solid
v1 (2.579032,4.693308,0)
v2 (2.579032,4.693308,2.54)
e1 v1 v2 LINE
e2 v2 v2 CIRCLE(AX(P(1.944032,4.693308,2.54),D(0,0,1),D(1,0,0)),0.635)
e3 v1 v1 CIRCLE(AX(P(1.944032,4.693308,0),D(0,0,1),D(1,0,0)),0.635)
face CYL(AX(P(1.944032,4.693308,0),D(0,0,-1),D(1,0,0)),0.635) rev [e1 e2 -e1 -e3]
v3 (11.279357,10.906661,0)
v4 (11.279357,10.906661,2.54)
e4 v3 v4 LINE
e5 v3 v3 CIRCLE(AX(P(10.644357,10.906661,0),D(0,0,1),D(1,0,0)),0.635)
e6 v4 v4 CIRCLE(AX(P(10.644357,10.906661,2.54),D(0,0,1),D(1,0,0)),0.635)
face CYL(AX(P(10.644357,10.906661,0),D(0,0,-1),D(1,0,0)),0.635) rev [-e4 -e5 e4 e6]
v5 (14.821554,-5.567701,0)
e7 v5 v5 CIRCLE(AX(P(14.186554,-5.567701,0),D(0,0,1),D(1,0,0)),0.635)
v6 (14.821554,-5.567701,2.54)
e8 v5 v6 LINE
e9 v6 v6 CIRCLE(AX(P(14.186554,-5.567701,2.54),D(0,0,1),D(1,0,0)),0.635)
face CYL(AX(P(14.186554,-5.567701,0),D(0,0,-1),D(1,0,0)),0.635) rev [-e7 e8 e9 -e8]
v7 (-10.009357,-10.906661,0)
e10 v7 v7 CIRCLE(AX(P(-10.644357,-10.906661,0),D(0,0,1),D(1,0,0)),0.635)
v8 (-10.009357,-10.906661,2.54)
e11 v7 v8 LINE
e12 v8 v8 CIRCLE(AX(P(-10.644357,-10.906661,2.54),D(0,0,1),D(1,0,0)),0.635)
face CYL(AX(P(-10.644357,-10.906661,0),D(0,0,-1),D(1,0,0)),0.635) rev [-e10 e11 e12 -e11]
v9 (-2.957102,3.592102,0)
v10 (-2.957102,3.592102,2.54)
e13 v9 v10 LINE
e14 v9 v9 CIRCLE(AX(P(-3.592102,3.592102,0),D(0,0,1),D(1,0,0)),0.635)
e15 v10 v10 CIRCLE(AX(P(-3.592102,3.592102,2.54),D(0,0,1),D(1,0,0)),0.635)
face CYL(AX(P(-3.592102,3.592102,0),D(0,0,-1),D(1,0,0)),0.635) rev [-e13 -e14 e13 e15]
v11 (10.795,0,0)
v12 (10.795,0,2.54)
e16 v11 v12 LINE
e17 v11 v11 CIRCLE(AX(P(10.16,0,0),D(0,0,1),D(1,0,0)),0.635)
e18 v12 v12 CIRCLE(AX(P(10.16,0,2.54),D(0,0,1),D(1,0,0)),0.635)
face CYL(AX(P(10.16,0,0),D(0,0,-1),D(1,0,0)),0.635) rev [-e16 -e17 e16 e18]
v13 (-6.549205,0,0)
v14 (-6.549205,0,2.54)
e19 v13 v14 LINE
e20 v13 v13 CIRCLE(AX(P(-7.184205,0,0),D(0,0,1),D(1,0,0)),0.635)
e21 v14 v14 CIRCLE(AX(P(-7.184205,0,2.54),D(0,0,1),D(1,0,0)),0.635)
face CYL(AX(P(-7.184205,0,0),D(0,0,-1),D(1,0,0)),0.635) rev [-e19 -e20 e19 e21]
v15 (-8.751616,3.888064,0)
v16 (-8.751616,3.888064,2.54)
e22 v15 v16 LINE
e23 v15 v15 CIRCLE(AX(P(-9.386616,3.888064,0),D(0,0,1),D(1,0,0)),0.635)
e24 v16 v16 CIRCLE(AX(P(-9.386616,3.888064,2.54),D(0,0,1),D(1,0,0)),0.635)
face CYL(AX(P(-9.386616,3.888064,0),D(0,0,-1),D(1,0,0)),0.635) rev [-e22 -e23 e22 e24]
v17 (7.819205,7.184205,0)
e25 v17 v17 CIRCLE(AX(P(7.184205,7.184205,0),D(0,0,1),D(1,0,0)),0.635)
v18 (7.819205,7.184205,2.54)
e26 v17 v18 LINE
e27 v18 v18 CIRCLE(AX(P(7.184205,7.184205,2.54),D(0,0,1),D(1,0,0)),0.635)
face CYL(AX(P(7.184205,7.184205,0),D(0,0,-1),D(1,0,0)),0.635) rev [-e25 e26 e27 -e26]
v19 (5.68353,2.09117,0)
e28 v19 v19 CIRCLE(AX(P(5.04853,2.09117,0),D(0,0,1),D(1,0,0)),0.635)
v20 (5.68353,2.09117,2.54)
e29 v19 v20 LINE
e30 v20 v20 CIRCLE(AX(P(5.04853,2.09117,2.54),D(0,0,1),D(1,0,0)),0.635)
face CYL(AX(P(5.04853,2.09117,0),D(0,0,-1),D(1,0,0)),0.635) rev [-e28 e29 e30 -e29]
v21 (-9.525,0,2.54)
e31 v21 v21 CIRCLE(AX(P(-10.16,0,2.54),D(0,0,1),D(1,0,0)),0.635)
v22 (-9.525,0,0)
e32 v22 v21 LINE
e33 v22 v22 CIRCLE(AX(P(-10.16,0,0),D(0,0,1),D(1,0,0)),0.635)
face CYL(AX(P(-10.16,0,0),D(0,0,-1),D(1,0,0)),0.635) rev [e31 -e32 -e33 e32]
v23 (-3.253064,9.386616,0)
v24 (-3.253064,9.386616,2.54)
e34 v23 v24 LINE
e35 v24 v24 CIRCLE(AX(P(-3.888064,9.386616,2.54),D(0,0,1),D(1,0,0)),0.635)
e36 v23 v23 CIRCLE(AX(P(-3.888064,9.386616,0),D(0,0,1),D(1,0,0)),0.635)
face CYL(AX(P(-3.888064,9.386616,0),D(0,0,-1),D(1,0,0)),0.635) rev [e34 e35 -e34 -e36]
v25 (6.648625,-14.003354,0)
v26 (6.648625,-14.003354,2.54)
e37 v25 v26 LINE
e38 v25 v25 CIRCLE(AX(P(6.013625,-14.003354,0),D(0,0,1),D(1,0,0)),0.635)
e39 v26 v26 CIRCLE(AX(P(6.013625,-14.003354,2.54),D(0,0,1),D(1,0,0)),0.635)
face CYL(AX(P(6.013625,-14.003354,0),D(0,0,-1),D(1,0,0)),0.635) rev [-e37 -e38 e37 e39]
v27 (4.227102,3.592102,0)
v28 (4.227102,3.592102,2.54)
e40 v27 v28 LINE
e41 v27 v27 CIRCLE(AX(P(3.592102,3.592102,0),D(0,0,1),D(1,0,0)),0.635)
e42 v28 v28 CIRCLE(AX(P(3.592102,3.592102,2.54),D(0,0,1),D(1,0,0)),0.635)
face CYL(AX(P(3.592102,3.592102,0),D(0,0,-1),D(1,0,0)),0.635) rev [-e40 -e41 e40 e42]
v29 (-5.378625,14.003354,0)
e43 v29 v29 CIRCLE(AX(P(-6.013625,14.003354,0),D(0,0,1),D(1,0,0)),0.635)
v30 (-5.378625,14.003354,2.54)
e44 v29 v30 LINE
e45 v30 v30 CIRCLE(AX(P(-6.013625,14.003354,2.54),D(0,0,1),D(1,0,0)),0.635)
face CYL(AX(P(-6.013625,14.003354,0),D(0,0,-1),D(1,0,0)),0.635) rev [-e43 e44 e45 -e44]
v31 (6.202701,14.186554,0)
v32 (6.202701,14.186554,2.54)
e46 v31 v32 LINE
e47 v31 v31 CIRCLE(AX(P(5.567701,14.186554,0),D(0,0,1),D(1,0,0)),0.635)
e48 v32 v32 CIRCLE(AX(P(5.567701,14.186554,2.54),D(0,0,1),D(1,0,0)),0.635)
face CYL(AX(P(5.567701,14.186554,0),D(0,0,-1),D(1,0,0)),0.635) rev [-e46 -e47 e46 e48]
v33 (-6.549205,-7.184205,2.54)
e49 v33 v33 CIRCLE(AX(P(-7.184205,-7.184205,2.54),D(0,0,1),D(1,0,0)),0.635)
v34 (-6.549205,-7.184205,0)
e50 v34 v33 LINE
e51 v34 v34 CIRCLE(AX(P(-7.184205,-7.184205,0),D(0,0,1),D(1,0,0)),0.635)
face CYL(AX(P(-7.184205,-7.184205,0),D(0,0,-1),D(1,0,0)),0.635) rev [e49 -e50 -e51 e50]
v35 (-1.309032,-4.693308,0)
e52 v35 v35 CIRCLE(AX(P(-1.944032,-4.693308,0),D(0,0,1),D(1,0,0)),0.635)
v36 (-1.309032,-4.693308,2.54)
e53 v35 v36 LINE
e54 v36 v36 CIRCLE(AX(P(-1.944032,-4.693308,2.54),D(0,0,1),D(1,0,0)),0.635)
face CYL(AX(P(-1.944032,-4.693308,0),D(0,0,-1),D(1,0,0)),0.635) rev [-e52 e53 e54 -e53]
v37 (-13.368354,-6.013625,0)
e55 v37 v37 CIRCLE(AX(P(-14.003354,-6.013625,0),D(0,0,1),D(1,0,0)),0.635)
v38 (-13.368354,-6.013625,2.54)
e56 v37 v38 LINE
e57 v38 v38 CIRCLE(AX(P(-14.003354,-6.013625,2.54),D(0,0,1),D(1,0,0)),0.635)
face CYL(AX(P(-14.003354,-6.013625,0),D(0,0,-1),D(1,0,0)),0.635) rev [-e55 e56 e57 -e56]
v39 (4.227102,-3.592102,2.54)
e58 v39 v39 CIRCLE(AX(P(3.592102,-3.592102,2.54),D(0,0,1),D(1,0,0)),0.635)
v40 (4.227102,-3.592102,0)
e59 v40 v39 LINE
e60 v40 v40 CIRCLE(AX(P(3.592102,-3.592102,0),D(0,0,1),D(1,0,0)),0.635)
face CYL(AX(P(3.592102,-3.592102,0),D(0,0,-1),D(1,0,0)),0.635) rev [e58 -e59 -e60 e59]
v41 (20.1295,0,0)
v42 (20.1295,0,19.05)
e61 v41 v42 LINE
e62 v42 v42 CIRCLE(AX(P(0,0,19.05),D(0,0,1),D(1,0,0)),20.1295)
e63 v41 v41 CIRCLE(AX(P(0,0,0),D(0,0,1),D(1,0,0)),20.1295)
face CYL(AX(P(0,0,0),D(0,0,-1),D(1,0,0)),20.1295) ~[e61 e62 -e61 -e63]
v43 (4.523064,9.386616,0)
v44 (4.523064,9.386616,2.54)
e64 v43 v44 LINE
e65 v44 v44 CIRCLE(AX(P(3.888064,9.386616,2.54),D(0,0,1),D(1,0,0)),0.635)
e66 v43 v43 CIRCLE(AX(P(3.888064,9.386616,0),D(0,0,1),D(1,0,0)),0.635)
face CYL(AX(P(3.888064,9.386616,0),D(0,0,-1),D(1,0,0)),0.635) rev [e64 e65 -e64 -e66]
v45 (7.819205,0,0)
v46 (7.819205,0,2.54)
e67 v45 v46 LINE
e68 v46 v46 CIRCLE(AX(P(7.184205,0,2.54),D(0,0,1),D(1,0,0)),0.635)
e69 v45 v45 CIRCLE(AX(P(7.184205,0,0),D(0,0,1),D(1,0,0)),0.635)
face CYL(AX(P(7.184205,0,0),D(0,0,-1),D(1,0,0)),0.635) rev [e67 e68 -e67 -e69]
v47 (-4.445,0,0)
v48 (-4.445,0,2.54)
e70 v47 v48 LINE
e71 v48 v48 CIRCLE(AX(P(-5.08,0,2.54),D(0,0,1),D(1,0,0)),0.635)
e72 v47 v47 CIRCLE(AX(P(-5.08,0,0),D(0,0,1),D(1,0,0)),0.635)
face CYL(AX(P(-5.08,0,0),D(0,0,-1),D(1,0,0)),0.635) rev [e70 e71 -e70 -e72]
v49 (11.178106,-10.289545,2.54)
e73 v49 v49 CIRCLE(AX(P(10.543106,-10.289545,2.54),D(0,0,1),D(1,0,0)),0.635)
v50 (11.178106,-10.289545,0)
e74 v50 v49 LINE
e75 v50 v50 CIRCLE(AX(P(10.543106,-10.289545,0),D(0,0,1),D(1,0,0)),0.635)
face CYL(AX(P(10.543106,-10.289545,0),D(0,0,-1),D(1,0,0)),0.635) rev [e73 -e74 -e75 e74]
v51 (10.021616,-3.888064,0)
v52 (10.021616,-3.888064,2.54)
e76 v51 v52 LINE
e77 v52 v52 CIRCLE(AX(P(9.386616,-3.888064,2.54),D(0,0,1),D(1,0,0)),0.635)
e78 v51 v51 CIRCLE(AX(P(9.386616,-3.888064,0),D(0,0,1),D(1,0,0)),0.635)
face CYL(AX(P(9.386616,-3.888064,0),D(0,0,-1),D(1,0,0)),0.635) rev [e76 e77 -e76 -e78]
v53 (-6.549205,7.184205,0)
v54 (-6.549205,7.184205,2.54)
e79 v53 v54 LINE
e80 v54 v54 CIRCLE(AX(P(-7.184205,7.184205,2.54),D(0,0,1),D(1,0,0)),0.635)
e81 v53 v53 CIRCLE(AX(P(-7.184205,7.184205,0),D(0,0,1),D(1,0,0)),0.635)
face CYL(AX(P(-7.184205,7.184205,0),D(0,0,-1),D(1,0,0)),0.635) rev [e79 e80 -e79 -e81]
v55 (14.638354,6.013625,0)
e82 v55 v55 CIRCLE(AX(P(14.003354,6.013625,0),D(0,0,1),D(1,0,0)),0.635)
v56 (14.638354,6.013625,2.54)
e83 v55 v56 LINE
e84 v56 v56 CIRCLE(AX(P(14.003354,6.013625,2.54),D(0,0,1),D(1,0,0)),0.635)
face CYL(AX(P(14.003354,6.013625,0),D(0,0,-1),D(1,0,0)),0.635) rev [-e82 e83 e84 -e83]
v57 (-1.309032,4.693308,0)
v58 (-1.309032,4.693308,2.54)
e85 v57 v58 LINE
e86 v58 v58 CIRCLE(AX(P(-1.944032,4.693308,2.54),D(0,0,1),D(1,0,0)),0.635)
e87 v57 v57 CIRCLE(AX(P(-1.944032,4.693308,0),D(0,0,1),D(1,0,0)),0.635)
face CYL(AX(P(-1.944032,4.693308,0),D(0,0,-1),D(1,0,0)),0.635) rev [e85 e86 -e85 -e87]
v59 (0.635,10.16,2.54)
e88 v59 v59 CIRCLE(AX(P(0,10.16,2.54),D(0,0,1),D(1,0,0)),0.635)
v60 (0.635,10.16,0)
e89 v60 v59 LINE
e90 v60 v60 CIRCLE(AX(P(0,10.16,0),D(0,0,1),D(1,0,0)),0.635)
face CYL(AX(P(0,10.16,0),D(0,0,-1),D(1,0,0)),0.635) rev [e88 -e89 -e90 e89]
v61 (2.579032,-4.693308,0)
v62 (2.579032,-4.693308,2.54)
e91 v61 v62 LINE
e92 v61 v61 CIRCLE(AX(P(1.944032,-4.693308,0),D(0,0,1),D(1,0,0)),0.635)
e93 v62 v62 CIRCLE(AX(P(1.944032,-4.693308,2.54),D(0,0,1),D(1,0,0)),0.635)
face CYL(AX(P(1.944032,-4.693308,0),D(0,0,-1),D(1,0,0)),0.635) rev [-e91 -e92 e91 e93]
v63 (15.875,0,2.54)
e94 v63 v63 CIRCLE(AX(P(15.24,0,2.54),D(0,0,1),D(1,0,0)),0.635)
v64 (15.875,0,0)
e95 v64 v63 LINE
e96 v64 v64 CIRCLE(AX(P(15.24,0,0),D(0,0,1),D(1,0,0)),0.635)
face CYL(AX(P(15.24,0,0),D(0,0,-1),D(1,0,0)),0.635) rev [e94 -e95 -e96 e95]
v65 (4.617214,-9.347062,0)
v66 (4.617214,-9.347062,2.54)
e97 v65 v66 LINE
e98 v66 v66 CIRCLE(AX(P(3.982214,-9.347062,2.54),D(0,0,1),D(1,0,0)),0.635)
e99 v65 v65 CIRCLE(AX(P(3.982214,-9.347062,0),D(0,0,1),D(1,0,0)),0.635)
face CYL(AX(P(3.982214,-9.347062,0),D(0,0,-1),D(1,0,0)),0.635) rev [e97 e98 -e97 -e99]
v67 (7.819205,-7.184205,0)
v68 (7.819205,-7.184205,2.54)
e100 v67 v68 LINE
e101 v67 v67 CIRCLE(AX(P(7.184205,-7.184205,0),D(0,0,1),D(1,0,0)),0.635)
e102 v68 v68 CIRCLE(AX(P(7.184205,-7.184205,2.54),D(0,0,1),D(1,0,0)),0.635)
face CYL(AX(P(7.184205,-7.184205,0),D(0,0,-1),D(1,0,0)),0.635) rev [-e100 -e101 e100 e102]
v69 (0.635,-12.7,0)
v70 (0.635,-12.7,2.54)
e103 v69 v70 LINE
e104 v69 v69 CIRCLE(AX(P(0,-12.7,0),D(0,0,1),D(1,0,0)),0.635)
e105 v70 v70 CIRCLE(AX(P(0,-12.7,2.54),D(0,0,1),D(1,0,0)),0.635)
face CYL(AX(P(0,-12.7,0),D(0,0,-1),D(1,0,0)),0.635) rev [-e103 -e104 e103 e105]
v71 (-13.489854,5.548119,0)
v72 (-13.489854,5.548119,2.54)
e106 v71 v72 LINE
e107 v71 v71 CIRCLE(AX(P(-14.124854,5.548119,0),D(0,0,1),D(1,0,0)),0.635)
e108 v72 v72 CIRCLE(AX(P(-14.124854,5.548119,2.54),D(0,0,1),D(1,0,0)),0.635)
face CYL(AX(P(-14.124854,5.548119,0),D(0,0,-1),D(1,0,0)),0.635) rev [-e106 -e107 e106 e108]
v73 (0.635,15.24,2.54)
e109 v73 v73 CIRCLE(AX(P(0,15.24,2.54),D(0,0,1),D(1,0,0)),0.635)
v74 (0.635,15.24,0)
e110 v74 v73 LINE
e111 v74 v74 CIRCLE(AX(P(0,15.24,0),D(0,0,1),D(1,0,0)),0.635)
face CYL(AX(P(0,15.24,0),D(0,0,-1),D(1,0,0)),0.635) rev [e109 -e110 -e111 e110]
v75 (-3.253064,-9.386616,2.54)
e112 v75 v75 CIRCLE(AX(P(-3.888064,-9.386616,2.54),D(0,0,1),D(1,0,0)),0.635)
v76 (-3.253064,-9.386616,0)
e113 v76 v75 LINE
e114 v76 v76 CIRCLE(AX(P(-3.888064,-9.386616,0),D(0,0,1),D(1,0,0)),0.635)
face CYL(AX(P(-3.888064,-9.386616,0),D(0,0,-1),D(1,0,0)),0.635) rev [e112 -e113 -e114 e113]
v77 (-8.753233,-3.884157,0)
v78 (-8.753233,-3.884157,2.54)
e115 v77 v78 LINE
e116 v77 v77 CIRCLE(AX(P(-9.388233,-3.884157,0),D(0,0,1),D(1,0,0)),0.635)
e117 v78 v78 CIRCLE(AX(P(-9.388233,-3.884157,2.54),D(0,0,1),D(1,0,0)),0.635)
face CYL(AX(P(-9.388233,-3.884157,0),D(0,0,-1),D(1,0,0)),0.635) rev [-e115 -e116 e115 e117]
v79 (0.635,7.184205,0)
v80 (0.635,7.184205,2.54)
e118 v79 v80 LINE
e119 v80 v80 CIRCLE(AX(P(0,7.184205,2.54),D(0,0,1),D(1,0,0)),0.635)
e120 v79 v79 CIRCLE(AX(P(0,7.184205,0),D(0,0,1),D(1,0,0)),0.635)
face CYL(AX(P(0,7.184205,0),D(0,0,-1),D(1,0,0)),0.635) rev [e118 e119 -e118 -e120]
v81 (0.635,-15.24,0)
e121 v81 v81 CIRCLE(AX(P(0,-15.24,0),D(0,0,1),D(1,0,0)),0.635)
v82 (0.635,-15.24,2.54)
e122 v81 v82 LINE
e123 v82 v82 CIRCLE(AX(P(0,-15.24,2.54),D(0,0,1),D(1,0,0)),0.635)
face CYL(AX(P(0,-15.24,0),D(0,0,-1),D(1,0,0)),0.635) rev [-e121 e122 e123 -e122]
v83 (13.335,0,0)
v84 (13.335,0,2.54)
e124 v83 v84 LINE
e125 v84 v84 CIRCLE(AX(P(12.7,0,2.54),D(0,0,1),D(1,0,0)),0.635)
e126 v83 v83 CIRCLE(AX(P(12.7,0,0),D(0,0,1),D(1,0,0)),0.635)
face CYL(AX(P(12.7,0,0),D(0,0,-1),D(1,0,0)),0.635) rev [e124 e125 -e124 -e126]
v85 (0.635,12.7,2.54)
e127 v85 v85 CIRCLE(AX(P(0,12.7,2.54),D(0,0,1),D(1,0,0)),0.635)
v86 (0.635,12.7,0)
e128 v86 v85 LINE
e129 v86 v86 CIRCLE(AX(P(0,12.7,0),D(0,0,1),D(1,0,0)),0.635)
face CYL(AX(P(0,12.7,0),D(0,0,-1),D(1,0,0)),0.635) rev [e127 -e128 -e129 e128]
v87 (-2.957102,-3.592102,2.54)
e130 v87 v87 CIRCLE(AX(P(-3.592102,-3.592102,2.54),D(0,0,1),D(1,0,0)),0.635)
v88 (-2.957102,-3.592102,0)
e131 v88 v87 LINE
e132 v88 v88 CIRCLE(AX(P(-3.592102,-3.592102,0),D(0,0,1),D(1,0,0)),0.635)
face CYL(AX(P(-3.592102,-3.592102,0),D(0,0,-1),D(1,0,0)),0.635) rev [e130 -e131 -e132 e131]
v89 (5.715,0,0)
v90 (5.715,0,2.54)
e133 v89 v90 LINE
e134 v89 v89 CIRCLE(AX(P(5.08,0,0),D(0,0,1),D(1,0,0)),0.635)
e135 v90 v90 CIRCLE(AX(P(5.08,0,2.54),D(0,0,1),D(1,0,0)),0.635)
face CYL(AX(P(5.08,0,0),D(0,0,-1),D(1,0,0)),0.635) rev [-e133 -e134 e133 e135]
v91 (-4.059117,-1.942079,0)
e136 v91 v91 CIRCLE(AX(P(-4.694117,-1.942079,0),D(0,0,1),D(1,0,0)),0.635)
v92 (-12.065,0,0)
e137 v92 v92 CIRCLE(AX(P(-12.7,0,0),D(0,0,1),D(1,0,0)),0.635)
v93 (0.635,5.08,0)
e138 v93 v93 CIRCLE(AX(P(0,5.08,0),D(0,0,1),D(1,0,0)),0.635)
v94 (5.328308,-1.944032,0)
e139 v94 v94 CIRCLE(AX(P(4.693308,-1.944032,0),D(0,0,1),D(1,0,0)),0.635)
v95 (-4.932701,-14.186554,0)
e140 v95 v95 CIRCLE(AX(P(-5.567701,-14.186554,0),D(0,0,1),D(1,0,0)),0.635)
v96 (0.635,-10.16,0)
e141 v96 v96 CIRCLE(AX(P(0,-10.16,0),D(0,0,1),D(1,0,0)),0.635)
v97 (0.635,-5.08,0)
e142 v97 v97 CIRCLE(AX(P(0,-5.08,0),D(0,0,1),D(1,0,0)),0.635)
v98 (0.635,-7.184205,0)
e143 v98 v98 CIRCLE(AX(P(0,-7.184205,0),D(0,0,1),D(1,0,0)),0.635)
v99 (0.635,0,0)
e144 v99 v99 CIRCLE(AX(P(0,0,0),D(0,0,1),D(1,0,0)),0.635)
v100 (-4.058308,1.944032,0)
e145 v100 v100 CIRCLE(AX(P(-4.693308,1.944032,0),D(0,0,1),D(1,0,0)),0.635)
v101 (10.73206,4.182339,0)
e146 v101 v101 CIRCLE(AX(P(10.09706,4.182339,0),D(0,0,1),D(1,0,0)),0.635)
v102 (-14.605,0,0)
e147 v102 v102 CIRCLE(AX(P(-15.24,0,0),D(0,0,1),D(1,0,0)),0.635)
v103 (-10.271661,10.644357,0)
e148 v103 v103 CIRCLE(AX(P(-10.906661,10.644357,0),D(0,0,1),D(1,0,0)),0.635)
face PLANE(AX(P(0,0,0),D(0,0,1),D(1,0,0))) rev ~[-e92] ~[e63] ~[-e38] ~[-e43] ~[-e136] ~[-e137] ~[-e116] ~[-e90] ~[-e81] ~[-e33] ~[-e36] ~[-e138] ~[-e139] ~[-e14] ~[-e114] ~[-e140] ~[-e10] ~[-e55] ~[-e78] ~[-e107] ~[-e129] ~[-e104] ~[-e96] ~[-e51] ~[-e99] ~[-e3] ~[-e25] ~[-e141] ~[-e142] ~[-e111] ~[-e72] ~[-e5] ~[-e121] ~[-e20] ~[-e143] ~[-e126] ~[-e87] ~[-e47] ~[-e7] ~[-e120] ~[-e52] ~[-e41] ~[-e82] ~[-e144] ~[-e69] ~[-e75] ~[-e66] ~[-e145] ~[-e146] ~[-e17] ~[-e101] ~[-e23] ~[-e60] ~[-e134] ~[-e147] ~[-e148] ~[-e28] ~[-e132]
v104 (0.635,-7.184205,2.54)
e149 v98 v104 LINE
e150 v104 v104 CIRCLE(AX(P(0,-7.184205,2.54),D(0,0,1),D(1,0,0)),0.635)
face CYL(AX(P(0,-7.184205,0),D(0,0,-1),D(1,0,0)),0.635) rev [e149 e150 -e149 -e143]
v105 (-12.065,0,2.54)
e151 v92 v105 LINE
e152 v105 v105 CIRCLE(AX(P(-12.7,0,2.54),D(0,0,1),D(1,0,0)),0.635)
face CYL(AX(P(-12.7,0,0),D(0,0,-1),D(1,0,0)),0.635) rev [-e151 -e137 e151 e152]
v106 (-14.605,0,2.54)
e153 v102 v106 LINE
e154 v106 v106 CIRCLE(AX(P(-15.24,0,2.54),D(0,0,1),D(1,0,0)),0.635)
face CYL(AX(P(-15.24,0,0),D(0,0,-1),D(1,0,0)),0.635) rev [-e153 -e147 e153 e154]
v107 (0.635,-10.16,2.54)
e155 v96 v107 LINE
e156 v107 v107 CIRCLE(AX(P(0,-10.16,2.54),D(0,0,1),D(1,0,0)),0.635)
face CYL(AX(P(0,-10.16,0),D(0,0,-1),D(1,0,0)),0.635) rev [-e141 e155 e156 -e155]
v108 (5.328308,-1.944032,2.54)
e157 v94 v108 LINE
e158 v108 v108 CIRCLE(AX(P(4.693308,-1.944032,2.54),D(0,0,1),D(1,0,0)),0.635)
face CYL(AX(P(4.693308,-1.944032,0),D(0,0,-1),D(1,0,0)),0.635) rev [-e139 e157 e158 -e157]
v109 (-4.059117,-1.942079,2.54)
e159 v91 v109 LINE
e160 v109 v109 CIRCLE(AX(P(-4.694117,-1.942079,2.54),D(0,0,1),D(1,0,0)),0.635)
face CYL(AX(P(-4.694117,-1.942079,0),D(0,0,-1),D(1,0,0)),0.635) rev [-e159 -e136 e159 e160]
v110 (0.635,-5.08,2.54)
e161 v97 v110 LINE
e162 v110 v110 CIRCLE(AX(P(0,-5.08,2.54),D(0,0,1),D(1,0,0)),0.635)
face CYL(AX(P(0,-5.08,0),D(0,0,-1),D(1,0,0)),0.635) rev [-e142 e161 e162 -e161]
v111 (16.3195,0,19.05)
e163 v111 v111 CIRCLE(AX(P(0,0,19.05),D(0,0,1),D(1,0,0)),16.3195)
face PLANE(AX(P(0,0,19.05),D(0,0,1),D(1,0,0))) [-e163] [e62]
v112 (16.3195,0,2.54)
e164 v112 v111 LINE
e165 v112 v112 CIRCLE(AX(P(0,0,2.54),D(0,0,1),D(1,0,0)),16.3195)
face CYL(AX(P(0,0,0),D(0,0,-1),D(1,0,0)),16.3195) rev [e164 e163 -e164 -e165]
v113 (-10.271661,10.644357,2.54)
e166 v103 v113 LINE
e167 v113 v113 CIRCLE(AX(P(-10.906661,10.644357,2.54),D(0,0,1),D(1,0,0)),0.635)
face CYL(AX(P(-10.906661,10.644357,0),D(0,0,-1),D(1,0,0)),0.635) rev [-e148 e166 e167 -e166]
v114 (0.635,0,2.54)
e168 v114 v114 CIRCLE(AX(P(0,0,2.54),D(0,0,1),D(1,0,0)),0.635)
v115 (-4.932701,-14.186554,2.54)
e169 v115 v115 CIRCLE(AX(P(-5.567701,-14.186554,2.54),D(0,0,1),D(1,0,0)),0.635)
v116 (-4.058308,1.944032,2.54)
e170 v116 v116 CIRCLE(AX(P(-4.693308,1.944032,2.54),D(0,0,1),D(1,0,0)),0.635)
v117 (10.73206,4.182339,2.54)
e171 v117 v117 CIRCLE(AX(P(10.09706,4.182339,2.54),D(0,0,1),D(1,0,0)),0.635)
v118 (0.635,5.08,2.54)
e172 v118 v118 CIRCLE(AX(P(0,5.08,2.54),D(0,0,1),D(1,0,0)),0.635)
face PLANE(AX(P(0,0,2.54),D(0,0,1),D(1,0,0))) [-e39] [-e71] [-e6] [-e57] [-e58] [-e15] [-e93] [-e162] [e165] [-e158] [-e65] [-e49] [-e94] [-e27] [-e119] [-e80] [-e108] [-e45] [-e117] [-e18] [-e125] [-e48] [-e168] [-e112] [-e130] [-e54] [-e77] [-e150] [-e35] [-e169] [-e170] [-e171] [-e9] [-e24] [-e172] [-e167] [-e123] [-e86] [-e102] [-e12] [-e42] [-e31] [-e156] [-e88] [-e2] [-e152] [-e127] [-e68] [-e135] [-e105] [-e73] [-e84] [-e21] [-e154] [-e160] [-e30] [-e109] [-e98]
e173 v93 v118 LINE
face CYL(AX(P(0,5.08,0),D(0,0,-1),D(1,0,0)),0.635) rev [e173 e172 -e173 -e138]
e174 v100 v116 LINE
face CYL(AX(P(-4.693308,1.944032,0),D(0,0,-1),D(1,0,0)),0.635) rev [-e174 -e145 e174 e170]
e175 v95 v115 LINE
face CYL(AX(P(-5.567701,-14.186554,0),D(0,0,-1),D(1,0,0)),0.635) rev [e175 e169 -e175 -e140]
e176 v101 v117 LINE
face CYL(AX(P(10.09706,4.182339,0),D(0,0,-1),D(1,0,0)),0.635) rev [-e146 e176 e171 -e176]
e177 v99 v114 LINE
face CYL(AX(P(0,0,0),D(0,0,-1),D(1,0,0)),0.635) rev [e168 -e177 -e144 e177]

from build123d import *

# Parameters (mm, degrees)
F0_R     = 16.3195
F0_R_2   = 0.635
F1_DEPTH = 2.54
F0_R_3   = 20.1295
F2_DEPTH = 19.05


with BuildPart() as f1:
    # F0 (on Top) → F1 (new body)
    with BuildSketch(Plane.XY):
        Circle(F0_R)
        with Locations((-10.644357, -10.906661)):
            Circle(F0_R_2, mode=Mode.SUBTRACT)
        with Locations((-5.567701, -14.186554)):
            Circle(F0_R_2, mode=Mode.SUBTRACT)
        with Locations((-14.003354, -6.013625)):
            Circle(F0_R_2, mode=Mode.SUBTRACT)
        with Locations((-7.184205, -7.184205)):
            Circle(F0_R_2, mode=Mode.SUBTRACT)
        with Locations((-3.888064, -9.386616)):
            Circle(F0_R_2, mode=Mode.SUBTRACT)
        with Locations((-9.388233, -3.884157)):
            Circle(F0_R_2, mode=Mode.SUBTRACT)
        with Locations((-3.592102, -3.592102)):
            Circle(F0_R_2, mode=Mode.SUBTRACT)
        with Locations((-1.944032, -4.693308)):
            Circle(F0_R_2, mode=Mode.SUBTRACT)
        with Locations((-4.694117, -1.942079)):
            Circle(F0_R_2, mode=Mode.SUBTRACT)
        with Locations((0, -15.24)):
            Circle(F0_R_2, mode=Mode.SUBTRACT)
        with Locations((0, -12.7)):
            Circle(F0_R_2, mode=Mode.SUBTRACT)
        with Locations((0, -10.16)):
            Circle(F0_R_2, mode=Mode.SUBTRACT)
        with Locations((6.013625, -14.003354)):
            Circle(F0_R_2, mode=Mode.SUBTRACT)
        with Locations((10.543106, -10.289545)):
            Circle(F0_R_2, mode=Mode.SUBTRACT)
        with Locations((3.982214, -9.347062)):
            Circle(F0_R_2, mode=Mode.SUBTRACT)
        with Locations((0, -7.184205)):
            Circle(F0_R_2, mode=Mode.SUBTRACT)
        with Locations((0, -5.08)):
            Circle(F0_R_2, mode=Mode.SUBTRACT)
        with Locations((7.184205, -7.184205)):
            Circle(F0_R_2, mode=Mode.SUBTRACT)
        with Locations((1.944032, -4.693308)):
            Circle(F0_R_2, mode=Mode.SUBTRACT)
        with Locations((3.592102, -3.592102)):
            Circle(F0_R_2, mode=Mode.SUBTRACT)
        with Locations((4.693308, -1.944032)):
            Circle(F0_R_2, mode=Mode.SUBTRACT)
        with Locations((9.386616, -3.888064)):
            Circle(F0_R_2, mode=Mode.SUBTRACT)
        with Locations((14.186554, -5.567701)):
            Circle(F0_R_2, mode=Mode.SUBTRACT)
        with Locations((-15.24, 0)):
            Circle(F0_R_2, mode=Mode.SUBTRACT)
        with Locations((-12.7, 0)):
            Circle(F0_R_2, mode=Mode.SUBTRACT)
        with Locations((-10.16, 0)):
            Circle(F0_R_2, mode=Mode.SUBTRACT)
        with Locations((-14.124854, 5.548119)):
            Circle(F0_R_2, mode=Mode.SUBTRACT)
        with Locations((-7.184205, 0)):
            Circle(F0_R_2, mode=Mode.SUBTRACT)
        with Locations((-5.08, 0)):
            Circle(F0_R_2, mode=Mode.SUBTRACT)
        with Locations((-9.386616, 3.888064)):
            Circle(F0_R_2, mode=Mode.SUBTRACT)
        with Locations((-4.693308, 1.944032)):
            Circle(F0_R_2, mode=Mode.SUBTRACT)
        with Locations((-3.592102, 3.592102)):
            Circle(F0_R_2, mode=Mode.SUBTRACT)
        with Locations((-1.944032, 4.693308)):
            Circle(F0_R_2, mode=Mode.SUBTRACT)
        with Locations((-7.184205, 7.184205)):
            Circle(F0_R_2, mode=Mode.SUBTRACT)
        with Locations((-3.888064, 9.386616)):
            Circle(F0_R_2, mode=Mode.SUBTRACT)
        with Locations((-10.906661, 10.644357)):
            Circle(F0_R_2, mode=Mode.SUBTRACT)
        with Locations((-6.013625, 14.003354)):
            Circle(F0_R_2, mode=Mode.SUBTRACT)
        Circle(F0_R_2, mode=Mode.SUBTRACT)
        with Locations((1.944032, 4.693308)):
            Circle(F0_R_2, mode=Mode.SUBTRACT)
        with Locations((3.592102, 3.592102)):
            Circle(F0_R_2, mode=Mode.SUBTRACT)
        with Locations((5.08, 0)):
            Circle(F0_R_2, mode=Mode.SUBTRACT)
        with Locations((7.184205, 0)):
            Circle(F0_R_2, mode=Mode.SUBTRACT)
        with Locations((5.04853, 2.09117)):
            Circle(F0_R_2, mode=Mode.SUBTRACT)
        with Locations((0, 5.08)):
            Circle(F0_R_2, mode=Mode.SUBTRACT)
        with Locations((0, 7.184205)):
            Circle(F0_R_2, mode=Mode.SUBTRACT)
        with Locations((3.888064, 9.386616)):
            Circle(F0_R_2, mode=Mode.SUBTRACT)
        with Locations((7.184205, 7.184205)):
            Circle(F0_R_2, mode=Mode.SUBTRACT)
        with Locations((10.16, 0)):
            Circle(F0_R_2, mode=Mode.SUBTRACT)
        with Locations((12.7, 0)):
            Circle(F0_R_2, mode=Mode.SUBTRACT)
        with Locations((10.09706, 4.182339)):
            Circle(F0_R_2, mode=Mode.SUBTRACT)
        with Locations((15.24, 0)):
            Circle(F0_R_2, mode=Mode.SUBTRACT)
        with Locations((14.003354, 6.013625)):
            Circle(F0_R_2, mode=Mode.SUBTRACT)
        with Locations((0, 10.16)):
            Circle(F0_R_2, mode=Mode.SUBTRACT)
        with Locations((0, 12.7)):
            Circle(F0_R_2, mode=Mode.SUBTRACT)
        with Locations((5.567701, 14.186554)):
            Circle(F0_R_2, mode=Mode.SUBTRACT)
        with Locations((0, 15.24)):
            Circle(F0_R_2, mode=Mode.SUBTRACT)
        with Locations((10.644357, 10.906661)):
            Circle(F0_R_2, mode=Mode.SUBTRACT)
    extrude(amount=F1_DEPTH)

    # F0 (on Top) → F2 (join)
    with BuildSketch(Plane.XY):
        Circle(F0_R_3)
        Circle(F0_R, mode=Mode.SUBTRACT)
    extrude(amount=F2_DEPTH)


solid = f1.part
